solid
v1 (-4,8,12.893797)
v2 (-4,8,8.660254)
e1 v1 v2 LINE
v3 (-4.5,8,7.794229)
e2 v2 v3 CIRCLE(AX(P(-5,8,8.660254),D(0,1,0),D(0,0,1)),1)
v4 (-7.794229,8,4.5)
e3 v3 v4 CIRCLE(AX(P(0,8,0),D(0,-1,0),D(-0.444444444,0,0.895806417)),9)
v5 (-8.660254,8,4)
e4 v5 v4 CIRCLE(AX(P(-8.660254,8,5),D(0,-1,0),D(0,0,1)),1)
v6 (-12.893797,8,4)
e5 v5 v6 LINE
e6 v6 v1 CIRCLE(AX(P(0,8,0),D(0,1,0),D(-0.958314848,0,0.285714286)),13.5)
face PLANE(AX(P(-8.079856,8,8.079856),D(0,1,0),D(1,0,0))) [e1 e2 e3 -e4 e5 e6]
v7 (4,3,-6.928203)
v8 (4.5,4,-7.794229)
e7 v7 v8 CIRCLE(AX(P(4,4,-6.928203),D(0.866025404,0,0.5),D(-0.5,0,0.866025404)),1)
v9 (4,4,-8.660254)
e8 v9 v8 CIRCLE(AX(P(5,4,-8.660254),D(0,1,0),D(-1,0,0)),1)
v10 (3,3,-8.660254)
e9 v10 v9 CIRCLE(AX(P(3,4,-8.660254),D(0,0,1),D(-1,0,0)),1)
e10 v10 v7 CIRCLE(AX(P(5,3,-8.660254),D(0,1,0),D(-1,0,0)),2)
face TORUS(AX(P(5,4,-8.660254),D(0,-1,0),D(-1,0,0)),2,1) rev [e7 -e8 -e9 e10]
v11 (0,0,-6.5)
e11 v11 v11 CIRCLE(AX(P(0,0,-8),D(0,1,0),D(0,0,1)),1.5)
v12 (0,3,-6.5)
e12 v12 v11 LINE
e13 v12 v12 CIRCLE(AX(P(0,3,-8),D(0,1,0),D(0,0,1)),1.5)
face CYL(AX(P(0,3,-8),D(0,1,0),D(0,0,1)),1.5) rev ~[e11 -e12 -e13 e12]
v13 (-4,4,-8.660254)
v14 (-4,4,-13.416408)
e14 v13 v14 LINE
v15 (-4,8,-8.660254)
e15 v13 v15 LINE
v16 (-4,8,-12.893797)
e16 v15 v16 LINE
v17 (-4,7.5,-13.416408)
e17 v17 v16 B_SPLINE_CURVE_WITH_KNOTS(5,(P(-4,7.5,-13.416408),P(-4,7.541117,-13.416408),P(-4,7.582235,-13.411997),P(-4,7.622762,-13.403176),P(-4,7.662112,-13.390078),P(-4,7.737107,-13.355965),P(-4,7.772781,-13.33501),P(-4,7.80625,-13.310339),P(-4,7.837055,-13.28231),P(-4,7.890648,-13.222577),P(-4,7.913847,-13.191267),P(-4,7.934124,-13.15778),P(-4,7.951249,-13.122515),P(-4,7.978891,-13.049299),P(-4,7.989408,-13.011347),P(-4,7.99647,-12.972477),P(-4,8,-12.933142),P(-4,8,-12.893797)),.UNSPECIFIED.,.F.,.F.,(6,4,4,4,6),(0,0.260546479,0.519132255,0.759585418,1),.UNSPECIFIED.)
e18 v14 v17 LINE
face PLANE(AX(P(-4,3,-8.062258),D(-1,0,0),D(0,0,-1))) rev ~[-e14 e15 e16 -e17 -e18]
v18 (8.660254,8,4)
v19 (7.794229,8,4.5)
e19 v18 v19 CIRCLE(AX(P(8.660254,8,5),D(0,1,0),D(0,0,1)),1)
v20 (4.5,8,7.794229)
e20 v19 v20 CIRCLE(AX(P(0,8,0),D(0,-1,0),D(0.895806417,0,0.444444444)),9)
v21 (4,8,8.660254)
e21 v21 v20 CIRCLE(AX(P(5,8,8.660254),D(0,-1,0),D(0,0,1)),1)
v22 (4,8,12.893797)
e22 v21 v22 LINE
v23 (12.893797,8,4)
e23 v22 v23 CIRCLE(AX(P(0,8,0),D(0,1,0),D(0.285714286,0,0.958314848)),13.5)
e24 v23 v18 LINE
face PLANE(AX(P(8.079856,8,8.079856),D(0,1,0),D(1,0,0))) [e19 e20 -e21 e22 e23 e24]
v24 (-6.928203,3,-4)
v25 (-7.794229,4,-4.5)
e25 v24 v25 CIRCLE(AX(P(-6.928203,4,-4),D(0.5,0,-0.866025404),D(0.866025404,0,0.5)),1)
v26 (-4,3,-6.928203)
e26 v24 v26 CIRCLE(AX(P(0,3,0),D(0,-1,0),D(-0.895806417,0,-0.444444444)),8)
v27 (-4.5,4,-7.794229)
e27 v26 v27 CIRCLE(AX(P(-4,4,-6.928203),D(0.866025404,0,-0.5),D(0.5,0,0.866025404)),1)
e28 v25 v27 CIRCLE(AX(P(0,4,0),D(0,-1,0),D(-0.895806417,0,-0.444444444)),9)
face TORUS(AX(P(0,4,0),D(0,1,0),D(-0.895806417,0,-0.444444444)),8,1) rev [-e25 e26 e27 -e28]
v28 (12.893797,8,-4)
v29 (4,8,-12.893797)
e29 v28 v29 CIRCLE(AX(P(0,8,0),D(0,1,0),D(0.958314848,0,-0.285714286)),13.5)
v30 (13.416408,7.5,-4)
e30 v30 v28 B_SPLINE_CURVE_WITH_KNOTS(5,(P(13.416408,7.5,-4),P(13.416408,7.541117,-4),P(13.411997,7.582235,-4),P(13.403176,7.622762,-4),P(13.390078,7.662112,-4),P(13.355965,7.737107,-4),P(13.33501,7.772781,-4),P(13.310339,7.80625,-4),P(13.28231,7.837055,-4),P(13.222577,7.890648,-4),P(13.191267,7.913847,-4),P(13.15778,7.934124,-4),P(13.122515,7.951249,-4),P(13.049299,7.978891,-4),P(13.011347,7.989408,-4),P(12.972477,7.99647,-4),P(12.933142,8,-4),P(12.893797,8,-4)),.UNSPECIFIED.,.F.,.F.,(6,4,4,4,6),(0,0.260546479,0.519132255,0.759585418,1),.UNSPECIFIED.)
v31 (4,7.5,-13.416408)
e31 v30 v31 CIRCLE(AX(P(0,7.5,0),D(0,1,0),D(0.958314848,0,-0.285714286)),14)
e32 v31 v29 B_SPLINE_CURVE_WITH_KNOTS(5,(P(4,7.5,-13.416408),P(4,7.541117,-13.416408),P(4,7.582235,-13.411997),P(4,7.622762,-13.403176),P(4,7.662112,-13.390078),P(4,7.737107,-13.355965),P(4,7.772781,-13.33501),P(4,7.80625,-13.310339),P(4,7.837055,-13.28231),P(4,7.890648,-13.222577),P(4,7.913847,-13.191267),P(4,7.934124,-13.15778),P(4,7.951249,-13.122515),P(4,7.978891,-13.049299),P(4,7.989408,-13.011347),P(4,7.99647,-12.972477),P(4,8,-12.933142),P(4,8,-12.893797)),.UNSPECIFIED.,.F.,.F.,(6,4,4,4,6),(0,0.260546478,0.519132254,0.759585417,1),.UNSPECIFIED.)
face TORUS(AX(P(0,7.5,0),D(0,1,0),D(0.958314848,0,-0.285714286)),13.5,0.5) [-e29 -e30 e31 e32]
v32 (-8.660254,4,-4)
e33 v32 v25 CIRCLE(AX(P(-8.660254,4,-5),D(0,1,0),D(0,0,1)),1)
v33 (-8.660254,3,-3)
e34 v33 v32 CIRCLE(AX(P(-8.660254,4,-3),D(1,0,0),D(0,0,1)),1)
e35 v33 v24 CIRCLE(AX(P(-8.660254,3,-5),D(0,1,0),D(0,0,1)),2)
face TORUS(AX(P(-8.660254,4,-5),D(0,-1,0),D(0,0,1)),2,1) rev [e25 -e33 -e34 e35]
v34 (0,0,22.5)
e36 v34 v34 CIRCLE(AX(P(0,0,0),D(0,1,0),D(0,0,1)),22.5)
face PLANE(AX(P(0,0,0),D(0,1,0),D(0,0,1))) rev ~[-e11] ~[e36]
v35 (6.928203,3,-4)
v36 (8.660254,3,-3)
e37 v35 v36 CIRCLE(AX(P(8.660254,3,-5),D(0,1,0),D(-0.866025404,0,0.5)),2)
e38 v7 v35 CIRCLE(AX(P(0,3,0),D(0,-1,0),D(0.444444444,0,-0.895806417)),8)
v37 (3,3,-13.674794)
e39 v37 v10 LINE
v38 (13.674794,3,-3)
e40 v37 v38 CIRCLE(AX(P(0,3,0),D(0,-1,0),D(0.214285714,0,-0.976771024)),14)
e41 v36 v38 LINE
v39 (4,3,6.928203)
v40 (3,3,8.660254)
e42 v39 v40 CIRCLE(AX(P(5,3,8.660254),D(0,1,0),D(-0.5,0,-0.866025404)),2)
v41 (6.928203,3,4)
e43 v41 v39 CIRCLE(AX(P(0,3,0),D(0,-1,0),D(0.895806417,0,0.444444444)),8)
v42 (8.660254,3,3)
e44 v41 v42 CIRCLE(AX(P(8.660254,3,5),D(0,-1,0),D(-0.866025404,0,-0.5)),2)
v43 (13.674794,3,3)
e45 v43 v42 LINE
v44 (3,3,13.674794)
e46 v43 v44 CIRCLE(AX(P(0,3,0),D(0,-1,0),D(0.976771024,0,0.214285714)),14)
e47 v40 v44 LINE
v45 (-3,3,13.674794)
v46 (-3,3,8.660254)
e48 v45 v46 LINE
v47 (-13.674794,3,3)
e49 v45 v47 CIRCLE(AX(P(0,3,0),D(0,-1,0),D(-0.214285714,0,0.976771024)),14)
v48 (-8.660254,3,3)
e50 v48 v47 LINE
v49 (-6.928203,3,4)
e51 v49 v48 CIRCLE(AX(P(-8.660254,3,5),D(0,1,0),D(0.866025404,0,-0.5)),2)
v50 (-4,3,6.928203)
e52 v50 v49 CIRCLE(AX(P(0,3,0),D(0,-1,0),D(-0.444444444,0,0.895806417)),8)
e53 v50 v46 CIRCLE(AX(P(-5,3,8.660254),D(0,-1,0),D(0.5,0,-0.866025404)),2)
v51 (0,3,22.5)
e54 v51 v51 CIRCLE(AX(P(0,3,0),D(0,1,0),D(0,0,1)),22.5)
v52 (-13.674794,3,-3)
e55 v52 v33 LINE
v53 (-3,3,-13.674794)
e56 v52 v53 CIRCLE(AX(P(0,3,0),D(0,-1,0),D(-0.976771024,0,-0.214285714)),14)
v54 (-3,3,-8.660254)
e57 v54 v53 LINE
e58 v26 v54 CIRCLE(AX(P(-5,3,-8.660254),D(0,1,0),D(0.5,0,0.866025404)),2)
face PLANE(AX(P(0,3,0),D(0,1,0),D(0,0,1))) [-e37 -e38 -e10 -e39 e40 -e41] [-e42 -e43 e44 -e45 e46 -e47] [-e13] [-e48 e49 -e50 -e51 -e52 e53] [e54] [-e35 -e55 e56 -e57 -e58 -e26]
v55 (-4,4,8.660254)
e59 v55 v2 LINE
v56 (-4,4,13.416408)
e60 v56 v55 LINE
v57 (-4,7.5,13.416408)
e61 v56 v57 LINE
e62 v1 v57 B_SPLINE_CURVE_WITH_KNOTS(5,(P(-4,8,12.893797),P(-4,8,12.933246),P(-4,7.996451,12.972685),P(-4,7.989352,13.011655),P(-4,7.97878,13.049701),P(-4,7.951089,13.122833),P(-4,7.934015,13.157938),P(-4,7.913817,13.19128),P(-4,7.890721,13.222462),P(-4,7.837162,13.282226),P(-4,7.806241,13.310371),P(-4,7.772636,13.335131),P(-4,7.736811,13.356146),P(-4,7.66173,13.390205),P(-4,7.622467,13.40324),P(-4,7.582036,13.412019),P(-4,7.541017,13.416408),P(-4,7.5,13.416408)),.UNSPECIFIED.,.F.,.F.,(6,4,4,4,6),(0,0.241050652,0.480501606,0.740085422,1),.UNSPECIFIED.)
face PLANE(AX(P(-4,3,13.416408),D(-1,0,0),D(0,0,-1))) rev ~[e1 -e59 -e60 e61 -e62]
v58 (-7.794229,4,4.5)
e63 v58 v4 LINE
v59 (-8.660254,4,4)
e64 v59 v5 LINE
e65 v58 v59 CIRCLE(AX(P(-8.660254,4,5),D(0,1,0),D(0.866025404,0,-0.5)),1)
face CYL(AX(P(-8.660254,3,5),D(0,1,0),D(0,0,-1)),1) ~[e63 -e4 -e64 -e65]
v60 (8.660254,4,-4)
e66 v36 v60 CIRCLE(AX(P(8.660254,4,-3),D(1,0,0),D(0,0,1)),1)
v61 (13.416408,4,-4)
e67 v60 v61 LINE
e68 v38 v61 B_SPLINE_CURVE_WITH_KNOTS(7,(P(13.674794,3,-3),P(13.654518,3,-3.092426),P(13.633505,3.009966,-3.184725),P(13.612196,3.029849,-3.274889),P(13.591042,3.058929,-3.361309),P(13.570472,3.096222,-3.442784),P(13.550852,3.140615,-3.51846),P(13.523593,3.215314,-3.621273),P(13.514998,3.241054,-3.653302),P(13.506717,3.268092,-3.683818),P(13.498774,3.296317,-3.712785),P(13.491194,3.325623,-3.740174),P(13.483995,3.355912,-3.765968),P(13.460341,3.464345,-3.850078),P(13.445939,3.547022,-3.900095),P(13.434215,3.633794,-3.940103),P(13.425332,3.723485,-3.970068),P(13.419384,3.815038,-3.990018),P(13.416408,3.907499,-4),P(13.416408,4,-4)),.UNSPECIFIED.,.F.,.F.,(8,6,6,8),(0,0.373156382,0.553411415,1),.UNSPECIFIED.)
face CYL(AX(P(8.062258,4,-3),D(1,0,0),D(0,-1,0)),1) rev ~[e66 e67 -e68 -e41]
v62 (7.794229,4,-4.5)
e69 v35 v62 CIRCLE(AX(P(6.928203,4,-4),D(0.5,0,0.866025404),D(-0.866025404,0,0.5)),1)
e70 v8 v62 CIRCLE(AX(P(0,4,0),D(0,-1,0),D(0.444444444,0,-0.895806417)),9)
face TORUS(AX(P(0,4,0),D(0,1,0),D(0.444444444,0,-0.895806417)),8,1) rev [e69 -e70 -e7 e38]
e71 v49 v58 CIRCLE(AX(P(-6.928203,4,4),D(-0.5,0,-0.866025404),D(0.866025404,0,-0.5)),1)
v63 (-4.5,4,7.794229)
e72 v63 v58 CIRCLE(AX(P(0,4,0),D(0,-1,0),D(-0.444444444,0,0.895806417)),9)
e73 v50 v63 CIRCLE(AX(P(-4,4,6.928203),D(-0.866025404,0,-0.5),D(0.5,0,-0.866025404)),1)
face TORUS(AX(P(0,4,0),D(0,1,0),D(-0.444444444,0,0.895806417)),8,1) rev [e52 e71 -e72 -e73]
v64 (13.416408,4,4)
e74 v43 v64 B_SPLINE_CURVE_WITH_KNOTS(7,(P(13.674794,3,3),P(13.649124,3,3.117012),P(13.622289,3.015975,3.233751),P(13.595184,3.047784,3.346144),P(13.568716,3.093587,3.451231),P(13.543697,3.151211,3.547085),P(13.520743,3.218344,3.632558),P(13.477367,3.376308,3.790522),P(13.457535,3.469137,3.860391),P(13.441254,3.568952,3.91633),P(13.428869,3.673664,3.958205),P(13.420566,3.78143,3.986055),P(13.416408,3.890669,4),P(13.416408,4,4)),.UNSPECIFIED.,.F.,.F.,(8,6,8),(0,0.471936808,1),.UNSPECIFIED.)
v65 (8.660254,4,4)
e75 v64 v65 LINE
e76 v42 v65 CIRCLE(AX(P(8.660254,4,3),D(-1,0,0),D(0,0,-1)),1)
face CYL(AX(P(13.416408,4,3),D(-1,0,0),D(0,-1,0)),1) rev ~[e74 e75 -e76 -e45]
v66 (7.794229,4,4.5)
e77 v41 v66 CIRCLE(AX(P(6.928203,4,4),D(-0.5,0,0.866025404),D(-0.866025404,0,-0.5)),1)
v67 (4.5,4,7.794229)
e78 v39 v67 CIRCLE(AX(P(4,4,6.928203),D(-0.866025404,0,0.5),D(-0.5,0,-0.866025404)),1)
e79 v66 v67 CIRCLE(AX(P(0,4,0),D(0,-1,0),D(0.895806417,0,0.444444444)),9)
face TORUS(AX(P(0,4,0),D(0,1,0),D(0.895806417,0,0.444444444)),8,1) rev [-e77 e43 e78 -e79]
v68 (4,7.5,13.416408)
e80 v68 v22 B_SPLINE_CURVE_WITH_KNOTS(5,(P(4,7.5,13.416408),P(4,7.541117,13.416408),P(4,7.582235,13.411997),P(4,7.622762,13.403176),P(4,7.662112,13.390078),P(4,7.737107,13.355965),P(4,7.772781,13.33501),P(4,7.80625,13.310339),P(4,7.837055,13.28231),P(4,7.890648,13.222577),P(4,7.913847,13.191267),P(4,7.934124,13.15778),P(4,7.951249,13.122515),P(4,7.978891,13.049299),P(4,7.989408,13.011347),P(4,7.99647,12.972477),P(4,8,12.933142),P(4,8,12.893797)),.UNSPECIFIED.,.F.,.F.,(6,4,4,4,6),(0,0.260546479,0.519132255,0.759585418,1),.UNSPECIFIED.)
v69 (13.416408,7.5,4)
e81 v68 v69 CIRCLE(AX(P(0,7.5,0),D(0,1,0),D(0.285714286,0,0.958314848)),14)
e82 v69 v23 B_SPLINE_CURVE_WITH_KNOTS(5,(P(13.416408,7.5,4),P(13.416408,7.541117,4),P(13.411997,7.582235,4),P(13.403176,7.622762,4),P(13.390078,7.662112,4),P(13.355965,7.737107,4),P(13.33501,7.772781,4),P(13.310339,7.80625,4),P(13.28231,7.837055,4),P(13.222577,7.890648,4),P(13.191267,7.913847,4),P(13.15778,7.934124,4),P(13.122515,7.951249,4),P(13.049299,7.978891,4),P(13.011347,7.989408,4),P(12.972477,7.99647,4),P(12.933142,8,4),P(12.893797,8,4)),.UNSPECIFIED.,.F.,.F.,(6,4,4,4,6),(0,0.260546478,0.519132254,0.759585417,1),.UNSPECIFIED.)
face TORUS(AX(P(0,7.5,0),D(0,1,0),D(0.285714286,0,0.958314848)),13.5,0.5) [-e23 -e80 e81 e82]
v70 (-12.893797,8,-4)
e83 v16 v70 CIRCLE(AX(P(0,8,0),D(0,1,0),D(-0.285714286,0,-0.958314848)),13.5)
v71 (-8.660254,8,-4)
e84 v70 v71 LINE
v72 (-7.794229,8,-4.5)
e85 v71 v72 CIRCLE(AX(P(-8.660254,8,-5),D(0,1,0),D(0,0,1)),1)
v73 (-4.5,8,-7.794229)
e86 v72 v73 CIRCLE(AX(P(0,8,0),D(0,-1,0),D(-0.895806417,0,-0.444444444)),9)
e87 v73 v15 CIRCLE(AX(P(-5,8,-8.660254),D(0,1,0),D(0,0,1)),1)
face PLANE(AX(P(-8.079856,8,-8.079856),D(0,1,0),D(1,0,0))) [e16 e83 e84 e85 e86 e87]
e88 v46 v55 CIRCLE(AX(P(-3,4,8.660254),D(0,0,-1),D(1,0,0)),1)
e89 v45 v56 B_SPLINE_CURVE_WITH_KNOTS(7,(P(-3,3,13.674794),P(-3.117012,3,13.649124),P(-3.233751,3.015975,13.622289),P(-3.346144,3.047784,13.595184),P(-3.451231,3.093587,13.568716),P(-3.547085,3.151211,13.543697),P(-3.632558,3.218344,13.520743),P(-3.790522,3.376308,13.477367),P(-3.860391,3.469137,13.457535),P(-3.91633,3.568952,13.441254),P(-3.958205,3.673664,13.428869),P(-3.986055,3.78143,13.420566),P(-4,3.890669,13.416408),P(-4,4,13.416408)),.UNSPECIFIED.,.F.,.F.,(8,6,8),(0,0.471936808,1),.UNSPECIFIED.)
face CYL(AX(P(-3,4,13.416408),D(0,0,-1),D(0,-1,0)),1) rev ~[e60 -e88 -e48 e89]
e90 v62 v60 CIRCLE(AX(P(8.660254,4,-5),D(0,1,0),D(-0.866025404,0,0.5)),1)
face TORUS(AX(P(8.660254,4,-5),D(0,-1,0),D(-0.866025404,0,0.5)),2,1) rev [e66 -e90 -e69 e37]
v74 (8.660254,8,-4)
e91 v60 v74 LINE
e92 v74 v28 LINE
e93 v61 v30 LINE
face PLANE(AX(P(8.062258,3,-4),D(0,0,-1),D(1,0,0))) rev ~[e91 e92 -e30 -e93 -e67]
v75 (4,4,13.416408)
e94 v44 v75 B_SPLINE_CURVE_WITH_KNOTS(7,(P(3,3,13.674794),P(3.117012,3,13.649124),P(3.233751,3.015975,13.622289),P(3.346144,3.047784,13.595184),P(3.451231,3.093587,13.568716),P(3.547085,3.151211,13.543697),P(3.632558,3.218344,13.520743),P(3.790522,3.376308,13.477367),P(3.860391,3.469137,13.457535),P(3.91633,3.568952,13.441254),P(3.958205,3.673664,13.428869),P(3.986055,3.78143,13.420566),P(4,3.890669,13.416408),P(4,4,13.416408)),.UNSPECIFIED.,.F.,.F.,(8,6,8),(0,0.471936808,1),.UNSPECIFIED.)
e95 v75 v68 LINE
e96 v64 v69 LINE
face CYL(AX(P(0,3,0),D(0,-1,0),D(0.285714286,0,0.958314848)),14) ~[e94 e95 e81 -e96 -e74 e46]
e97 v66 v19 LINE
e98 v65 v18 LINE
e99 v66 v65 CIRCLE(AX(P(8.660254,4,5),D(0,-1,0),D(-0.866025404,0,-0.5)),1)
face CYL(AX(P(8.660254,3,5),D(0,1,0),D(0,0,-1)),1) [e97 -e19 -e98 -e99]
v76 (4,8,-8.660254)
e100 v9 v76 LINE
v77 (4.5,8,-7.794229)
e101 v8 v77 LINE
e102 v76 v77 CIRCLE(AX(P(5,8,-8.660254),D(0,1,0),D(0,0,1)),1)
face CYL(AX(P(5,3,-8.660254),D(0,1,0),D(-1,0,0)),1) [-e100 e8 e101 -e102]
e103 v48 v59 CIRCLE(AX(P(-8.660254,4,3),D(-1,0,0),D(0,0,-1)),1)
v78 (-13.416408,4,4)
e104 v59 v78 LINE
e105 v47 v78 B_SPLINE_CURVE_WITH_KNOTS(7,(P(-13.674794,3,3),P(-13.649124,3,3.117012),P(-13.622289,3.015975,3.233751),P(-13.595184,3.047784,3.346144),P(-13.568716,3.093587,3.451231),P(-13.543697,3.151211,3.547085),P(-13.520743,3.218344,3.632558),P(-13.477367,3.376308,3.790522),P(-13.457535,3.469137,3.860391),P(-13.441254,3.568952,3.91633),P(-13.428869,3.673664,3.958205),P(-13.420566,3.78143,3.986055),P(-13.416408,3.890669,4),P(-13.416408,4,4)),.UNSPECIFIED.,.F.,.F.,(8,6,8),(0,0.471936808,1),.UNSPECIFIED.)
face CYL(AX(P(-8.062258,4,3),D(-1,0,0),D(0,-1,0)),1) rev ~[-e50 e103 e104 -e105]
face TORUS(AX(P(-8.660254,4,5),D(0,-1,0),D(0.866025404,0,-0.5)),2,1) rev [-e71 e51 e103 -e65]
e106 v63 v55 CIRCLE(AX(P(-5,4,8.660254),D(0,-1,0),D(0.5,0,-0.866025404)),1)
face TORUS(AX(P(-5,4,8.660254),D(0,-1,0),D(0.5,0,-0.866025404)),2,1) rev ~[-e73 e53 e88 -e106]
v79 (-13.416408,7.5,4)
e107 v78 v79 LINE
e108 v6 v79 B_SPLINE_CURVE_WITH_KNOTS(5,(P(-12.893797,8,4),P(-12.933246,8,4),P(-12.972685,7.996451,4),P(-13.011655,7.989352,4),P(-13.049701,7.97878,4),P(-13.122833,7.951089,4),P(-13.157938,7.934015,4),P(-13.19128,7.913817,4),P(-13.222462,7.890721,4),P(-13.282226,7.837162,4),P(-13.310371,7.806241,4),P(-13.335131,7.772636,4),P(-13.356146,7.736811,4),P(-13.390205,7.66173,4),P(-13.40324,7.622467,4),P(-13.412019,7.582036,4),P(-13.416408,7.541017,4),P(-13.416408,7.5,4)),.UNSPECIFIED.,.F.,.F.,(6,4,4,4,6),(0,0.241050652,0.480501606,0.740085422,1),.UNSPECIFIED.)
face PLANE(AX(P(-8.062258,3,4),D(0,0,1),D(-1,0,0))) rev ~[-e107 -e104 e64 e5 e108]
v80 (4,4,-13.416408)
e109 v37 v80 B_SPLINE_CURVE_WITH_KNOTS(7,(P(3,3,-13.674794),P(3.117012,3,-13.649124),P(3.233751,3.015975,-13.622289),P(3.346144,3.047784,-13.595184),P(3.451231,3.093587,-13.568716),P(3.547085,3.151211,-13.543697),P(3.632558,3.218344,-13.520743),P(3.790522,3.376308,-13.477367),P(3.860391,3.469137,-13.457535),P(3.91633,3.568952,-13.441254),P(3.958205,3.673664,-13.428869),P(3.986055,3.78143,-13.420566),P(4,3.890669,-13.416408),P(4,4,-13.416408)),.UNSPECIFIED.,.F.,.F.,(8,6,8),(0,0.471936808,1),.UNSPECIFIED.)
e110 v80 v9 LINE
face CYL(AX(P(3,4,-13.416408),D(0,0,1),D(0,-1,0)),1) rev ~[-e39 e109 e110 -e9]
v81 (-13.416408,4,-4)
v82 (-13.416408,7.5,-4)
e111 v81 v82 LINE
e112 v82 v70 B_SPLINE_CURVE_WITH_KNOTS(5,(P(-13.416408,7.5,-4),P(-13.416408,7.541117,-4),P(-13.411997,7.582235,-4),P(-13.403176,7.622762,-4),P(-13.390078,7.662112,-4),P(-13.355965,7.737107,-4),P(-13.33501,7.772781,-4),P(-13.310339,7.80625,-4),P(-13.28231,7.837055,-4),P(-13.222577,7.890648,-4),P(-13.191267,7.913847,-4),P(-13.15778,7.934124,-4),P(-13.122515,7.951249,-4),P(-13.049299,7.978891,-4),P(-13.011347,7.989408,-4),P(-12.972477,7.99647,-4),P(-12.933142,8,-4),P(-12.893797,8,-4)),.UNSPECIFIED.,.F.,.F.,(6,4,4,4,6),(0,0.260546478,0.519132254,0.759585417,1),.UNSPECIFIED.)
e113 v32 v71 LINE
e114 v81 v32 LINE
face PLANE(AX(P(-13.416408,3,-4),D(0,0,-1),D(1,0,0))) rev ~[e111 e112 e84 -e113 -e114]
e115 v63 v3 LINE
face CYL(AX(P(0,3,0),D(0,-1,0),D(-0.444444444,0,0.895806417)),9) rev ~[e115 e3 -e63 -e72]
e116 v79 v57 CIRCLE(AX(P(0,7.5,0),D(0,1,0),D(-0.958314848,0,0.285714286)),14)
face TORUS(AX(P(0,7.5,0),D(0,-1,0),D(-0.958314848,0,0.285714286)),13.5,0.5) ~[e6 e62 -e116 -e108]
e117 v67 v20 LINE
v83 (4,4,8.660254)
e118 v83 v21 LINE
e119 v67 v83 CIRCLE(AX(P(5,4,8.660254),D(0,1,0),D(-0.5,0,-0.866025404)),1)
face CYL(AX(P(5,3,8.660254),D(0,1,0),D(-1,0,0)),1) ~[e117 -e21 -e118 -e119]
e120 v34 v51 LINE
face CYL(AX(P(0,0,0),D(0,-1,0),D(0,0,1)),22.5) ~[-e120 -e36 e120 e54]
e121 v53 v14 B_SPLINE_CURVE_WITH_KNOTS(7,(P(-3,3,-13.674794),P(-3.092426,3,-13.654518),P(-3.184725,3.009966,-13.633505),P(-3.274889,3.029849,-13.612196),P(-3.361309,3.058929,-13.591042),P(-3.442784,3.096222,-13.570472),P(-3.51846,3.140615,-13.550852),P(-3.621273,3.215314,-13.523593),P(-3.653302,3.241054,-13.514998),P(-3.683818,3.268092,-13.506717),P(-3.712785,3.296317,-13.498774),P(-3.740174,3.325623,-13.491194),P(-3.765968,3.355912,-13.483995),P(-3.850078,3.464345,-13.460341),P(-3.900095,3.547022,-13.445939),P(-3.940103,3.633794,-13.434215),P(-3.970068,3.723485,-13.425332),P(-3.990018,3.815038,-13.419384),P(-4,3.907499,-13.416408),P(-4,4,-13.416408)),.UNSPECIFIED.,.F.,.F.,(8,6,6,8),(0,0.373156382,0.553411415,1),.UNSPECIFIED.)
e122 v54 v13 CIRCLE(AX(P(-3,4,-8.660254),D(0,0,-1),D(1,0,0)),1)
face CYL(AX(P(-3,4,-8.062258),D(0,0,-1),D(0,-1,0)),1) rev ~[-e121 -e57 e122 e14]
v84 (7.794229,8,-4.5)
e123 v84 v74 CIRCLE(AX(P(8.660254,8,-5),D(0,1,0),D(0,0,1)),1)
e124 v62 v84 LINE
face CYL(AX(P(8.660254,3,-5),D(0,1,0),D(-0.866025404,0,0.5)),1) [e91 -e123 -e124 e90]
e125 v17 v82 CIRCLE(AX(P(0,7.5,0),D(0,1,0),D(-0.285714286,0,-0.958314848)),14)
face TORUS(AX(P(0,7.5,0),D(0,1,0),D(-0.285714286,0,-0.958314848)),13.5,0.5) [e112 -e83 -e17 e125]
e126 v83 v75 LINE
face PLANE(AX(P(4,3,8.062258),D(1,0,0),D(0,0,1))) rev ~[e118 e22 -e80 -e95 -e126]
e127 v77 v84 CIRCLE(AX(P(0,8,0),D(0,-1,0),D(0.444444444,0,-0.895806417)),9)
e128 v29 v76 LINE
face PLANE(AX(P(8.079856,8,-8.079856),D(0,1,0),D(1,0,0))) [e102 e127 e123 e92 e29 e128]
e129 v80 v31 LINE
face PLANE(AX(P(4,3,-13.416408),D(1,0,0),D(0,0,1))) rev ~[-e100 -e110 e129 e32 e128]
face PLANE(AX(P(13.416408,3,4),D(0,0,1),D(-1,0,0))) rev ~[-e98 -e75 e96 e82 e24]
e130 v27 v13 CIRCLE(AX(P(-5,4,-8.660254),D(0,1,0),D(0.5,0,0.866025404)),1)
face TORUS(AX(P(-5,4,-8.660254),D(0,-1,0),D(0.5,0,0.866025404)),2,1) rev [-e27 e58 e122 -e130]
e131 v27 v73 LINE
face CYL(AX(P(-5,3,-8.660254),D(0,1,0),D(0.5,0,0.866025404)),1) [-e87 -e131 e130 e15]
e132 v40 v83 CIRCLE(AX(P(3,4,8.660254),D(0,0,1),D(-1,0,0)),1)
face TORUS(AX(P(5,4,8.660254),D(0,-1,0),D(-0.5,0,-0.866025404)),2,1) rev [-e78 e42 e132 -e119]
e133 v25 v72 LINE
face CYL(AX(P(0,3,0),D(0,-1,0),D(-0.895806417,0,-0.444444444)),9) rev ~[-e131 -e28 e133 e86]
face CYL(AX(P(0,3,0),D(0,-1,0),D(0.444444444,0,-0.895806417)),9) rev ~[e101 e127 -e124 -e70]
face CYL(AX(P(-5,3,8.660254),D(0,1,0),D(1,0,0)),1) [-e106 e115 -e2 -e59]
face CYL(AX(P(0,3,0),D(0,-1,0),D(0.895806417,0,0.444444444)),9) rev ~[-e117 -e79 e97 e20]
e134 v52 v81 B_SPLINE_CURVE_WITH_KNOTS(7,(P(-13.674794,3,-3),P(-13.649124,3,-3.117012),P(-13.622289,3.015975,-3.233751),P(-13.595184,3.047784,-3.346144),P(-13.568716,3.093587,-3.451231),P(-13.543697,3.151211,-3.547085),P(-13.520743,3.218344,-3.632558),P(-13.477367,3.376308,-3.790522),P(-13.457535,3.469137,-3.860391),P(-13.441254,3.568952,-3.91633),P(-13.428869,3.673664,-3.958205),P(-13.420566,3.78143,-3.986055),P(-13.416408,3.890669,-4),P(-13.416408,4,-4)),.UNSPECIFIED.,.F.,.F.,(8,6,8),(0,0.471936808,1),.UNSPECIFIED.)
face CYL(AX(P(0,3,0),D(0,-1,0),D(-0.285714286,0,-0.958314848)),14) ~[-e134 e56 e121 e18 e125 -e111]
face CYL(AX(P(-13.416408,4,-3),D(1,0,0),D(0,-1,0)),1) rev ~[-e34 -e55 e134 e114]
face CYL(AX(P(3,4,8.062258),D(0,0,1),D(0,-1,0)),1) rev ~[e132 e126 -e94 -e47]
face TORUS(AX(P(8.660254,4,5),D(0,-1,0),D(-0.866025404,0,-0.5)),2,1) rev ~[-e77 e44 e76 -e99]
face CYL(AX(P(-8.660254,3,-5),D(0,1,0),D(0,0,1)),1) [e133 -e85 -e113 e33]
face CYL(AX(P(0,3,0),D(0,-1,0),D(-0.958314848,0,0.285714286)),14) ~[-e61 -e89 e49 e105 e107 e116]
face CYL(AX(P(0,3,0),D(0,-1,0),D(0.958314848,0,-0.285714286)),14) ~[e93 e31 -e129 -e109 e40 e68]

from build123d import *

# Parameters (mm, degrees)
SKETCH2_R           = 22.5
BOSS_EXTRUDE1_DEPTH = 3
BOSS_EXTRUDE2_DEPTH = 5
FILLET1_R           = 1
FILLET2_R           = 0.5
SKETCH5_R           = 1.5
CUT_EXTRUDE1_DEPTH  = 5


with BuildPart() as part:
    # Sketch2 → Boss-Extrude1 (new body)
    with BuildSketch(Plane(origin=(0, 0, 0), x_dir=(1, 0, 0), z_dir=(0, 1, 0))):
        with Locations(Location((0, 0, 0), (0, 0, 270))):
            Circle(SKETCH2_R)
    extrude(amount=BOSS_EXTRUDE1_DEPTH)

    # Sketch3 → Boss-Extrude2 (add)
    with BuildSketch(Plane(origin=(0, 3, 0), x_dir=(1, 0, 0), z_dir=(0, 1, 0))):
        with BuildLine():
            ThreePointArc((-4, 13.416407865), (-9.899494937, 9.899494937), (-13.416407865, 4))
            Line((-13.416407865, 4), (-8.062257748, 4))
            ThreePointArc((-8.062257748, 4), (-6.363961031, 6.363961031), (-4, 8.062257748))
            Line((-4, 8.062257748), (-4, 13.416407865))
        make_face()
        with BuildLine():
            ThreePointArc((13.416407865, 4), (9.899494937, 9.899494937), (4, 13.416407865))
            Line((4, 13.416407865), (4, 8.062257748))
            ThreePointArc((4, 8.062257748), (6.363961031, 6.363961031), (8.062257748, 4))
            Line((8.062257748, 4), (13.416407865, 4))
        make_face()
        with BuildLine():
            Line((4, -8.062257748), (4, -13.416407865))
            ThreePointArc((4, -13.416407865), (9.899494937, -9.899494937), (13.416407865, -4))
            Line((13.416407865, -4), (8.062257748, -4))
            ThreePointArc((8.062257748, -4), (6.363961031, -6.363961031), (4, -8.062257748))
        make_face()
        with BuildLine():
            Line((-8.062257748, -4), (-13.416407865, -4))
            ThreePointArc((-13.416407865, -4), (-9.899494937, -9.899494937), (-4, -13.416407865))
            Line((-4, -13.416407865), (-4, -8.062257748))
            ThreePointArc((-4, -8.062257748), (-6.363961031, -6.363961031), (-8.062257748, -4))
        make_face()
    extrude(amount=BOSS_EXTRUDE2_DEPTH)

    # Fillet1
    fillet1_edges = [part.edges().sort_by_distance(p)[0] for p in [
        (-6.363961031, 3, -6.363961031),
        (-4, 3, -10.739332807),
        (4, 5.5, -8.062257748),
        (10.739332807, 3, -4),
        (8.062257748, 5.5, -4),
        (4, 3, -10.739332807),
        (6.363961031, 3, -6.363961031),
        (8.062257748, 5.5, 4),
        (4, 3, 10.739332807),
        (4, 5.5, 8.062257748),
        (6.363961031, 3, 6.363961031),
        (10.739332807, 3, 4),
        (-4, 5.5, 8.062257748),
        (-8.062257748, 5.5, 4),
        (-6.363961031, 3, 6.363961031),
        (-4, 3, 10.739332807),
        (-10.739332807, 3, 4),
        (-8.062257748, 5.5, -4),
        (-4, 5.5, -8.062257748),
        (-10.739332807, 3, -4),
    ]]
    fillet(fillet1_edges, radius=FILLET1_R)

    # Fillet2
    fillet2_edges = [part.edges().sort_by_distance(p)[0] for p in [
        (9.899494937, 8, -9.899494937),
        (9.899494937, 8, 9.899494937),
        (-9.899494937, 8, 9.899494937),
        (-9.899494937, 8, -9.899494937),
    ]]
    fillet(fillet2_edges, radius=FILLET2_R)

    # Sketch5 → Cut-Extrude1 (cut)
    with BuildSketch(Plane(origin=(0, 3, 0), x_dir=(1, 0, 0), z_dir=(0, 1, 0))):
        with Locations(Location((0, 8, 0), (0, 0, 270))):
            Circle(SKETCH5_R)
    extrude(amount=-CUT_EXTRUDE1_DEPTH, mode=Mode.SUBTRACT)


solid = part.part
